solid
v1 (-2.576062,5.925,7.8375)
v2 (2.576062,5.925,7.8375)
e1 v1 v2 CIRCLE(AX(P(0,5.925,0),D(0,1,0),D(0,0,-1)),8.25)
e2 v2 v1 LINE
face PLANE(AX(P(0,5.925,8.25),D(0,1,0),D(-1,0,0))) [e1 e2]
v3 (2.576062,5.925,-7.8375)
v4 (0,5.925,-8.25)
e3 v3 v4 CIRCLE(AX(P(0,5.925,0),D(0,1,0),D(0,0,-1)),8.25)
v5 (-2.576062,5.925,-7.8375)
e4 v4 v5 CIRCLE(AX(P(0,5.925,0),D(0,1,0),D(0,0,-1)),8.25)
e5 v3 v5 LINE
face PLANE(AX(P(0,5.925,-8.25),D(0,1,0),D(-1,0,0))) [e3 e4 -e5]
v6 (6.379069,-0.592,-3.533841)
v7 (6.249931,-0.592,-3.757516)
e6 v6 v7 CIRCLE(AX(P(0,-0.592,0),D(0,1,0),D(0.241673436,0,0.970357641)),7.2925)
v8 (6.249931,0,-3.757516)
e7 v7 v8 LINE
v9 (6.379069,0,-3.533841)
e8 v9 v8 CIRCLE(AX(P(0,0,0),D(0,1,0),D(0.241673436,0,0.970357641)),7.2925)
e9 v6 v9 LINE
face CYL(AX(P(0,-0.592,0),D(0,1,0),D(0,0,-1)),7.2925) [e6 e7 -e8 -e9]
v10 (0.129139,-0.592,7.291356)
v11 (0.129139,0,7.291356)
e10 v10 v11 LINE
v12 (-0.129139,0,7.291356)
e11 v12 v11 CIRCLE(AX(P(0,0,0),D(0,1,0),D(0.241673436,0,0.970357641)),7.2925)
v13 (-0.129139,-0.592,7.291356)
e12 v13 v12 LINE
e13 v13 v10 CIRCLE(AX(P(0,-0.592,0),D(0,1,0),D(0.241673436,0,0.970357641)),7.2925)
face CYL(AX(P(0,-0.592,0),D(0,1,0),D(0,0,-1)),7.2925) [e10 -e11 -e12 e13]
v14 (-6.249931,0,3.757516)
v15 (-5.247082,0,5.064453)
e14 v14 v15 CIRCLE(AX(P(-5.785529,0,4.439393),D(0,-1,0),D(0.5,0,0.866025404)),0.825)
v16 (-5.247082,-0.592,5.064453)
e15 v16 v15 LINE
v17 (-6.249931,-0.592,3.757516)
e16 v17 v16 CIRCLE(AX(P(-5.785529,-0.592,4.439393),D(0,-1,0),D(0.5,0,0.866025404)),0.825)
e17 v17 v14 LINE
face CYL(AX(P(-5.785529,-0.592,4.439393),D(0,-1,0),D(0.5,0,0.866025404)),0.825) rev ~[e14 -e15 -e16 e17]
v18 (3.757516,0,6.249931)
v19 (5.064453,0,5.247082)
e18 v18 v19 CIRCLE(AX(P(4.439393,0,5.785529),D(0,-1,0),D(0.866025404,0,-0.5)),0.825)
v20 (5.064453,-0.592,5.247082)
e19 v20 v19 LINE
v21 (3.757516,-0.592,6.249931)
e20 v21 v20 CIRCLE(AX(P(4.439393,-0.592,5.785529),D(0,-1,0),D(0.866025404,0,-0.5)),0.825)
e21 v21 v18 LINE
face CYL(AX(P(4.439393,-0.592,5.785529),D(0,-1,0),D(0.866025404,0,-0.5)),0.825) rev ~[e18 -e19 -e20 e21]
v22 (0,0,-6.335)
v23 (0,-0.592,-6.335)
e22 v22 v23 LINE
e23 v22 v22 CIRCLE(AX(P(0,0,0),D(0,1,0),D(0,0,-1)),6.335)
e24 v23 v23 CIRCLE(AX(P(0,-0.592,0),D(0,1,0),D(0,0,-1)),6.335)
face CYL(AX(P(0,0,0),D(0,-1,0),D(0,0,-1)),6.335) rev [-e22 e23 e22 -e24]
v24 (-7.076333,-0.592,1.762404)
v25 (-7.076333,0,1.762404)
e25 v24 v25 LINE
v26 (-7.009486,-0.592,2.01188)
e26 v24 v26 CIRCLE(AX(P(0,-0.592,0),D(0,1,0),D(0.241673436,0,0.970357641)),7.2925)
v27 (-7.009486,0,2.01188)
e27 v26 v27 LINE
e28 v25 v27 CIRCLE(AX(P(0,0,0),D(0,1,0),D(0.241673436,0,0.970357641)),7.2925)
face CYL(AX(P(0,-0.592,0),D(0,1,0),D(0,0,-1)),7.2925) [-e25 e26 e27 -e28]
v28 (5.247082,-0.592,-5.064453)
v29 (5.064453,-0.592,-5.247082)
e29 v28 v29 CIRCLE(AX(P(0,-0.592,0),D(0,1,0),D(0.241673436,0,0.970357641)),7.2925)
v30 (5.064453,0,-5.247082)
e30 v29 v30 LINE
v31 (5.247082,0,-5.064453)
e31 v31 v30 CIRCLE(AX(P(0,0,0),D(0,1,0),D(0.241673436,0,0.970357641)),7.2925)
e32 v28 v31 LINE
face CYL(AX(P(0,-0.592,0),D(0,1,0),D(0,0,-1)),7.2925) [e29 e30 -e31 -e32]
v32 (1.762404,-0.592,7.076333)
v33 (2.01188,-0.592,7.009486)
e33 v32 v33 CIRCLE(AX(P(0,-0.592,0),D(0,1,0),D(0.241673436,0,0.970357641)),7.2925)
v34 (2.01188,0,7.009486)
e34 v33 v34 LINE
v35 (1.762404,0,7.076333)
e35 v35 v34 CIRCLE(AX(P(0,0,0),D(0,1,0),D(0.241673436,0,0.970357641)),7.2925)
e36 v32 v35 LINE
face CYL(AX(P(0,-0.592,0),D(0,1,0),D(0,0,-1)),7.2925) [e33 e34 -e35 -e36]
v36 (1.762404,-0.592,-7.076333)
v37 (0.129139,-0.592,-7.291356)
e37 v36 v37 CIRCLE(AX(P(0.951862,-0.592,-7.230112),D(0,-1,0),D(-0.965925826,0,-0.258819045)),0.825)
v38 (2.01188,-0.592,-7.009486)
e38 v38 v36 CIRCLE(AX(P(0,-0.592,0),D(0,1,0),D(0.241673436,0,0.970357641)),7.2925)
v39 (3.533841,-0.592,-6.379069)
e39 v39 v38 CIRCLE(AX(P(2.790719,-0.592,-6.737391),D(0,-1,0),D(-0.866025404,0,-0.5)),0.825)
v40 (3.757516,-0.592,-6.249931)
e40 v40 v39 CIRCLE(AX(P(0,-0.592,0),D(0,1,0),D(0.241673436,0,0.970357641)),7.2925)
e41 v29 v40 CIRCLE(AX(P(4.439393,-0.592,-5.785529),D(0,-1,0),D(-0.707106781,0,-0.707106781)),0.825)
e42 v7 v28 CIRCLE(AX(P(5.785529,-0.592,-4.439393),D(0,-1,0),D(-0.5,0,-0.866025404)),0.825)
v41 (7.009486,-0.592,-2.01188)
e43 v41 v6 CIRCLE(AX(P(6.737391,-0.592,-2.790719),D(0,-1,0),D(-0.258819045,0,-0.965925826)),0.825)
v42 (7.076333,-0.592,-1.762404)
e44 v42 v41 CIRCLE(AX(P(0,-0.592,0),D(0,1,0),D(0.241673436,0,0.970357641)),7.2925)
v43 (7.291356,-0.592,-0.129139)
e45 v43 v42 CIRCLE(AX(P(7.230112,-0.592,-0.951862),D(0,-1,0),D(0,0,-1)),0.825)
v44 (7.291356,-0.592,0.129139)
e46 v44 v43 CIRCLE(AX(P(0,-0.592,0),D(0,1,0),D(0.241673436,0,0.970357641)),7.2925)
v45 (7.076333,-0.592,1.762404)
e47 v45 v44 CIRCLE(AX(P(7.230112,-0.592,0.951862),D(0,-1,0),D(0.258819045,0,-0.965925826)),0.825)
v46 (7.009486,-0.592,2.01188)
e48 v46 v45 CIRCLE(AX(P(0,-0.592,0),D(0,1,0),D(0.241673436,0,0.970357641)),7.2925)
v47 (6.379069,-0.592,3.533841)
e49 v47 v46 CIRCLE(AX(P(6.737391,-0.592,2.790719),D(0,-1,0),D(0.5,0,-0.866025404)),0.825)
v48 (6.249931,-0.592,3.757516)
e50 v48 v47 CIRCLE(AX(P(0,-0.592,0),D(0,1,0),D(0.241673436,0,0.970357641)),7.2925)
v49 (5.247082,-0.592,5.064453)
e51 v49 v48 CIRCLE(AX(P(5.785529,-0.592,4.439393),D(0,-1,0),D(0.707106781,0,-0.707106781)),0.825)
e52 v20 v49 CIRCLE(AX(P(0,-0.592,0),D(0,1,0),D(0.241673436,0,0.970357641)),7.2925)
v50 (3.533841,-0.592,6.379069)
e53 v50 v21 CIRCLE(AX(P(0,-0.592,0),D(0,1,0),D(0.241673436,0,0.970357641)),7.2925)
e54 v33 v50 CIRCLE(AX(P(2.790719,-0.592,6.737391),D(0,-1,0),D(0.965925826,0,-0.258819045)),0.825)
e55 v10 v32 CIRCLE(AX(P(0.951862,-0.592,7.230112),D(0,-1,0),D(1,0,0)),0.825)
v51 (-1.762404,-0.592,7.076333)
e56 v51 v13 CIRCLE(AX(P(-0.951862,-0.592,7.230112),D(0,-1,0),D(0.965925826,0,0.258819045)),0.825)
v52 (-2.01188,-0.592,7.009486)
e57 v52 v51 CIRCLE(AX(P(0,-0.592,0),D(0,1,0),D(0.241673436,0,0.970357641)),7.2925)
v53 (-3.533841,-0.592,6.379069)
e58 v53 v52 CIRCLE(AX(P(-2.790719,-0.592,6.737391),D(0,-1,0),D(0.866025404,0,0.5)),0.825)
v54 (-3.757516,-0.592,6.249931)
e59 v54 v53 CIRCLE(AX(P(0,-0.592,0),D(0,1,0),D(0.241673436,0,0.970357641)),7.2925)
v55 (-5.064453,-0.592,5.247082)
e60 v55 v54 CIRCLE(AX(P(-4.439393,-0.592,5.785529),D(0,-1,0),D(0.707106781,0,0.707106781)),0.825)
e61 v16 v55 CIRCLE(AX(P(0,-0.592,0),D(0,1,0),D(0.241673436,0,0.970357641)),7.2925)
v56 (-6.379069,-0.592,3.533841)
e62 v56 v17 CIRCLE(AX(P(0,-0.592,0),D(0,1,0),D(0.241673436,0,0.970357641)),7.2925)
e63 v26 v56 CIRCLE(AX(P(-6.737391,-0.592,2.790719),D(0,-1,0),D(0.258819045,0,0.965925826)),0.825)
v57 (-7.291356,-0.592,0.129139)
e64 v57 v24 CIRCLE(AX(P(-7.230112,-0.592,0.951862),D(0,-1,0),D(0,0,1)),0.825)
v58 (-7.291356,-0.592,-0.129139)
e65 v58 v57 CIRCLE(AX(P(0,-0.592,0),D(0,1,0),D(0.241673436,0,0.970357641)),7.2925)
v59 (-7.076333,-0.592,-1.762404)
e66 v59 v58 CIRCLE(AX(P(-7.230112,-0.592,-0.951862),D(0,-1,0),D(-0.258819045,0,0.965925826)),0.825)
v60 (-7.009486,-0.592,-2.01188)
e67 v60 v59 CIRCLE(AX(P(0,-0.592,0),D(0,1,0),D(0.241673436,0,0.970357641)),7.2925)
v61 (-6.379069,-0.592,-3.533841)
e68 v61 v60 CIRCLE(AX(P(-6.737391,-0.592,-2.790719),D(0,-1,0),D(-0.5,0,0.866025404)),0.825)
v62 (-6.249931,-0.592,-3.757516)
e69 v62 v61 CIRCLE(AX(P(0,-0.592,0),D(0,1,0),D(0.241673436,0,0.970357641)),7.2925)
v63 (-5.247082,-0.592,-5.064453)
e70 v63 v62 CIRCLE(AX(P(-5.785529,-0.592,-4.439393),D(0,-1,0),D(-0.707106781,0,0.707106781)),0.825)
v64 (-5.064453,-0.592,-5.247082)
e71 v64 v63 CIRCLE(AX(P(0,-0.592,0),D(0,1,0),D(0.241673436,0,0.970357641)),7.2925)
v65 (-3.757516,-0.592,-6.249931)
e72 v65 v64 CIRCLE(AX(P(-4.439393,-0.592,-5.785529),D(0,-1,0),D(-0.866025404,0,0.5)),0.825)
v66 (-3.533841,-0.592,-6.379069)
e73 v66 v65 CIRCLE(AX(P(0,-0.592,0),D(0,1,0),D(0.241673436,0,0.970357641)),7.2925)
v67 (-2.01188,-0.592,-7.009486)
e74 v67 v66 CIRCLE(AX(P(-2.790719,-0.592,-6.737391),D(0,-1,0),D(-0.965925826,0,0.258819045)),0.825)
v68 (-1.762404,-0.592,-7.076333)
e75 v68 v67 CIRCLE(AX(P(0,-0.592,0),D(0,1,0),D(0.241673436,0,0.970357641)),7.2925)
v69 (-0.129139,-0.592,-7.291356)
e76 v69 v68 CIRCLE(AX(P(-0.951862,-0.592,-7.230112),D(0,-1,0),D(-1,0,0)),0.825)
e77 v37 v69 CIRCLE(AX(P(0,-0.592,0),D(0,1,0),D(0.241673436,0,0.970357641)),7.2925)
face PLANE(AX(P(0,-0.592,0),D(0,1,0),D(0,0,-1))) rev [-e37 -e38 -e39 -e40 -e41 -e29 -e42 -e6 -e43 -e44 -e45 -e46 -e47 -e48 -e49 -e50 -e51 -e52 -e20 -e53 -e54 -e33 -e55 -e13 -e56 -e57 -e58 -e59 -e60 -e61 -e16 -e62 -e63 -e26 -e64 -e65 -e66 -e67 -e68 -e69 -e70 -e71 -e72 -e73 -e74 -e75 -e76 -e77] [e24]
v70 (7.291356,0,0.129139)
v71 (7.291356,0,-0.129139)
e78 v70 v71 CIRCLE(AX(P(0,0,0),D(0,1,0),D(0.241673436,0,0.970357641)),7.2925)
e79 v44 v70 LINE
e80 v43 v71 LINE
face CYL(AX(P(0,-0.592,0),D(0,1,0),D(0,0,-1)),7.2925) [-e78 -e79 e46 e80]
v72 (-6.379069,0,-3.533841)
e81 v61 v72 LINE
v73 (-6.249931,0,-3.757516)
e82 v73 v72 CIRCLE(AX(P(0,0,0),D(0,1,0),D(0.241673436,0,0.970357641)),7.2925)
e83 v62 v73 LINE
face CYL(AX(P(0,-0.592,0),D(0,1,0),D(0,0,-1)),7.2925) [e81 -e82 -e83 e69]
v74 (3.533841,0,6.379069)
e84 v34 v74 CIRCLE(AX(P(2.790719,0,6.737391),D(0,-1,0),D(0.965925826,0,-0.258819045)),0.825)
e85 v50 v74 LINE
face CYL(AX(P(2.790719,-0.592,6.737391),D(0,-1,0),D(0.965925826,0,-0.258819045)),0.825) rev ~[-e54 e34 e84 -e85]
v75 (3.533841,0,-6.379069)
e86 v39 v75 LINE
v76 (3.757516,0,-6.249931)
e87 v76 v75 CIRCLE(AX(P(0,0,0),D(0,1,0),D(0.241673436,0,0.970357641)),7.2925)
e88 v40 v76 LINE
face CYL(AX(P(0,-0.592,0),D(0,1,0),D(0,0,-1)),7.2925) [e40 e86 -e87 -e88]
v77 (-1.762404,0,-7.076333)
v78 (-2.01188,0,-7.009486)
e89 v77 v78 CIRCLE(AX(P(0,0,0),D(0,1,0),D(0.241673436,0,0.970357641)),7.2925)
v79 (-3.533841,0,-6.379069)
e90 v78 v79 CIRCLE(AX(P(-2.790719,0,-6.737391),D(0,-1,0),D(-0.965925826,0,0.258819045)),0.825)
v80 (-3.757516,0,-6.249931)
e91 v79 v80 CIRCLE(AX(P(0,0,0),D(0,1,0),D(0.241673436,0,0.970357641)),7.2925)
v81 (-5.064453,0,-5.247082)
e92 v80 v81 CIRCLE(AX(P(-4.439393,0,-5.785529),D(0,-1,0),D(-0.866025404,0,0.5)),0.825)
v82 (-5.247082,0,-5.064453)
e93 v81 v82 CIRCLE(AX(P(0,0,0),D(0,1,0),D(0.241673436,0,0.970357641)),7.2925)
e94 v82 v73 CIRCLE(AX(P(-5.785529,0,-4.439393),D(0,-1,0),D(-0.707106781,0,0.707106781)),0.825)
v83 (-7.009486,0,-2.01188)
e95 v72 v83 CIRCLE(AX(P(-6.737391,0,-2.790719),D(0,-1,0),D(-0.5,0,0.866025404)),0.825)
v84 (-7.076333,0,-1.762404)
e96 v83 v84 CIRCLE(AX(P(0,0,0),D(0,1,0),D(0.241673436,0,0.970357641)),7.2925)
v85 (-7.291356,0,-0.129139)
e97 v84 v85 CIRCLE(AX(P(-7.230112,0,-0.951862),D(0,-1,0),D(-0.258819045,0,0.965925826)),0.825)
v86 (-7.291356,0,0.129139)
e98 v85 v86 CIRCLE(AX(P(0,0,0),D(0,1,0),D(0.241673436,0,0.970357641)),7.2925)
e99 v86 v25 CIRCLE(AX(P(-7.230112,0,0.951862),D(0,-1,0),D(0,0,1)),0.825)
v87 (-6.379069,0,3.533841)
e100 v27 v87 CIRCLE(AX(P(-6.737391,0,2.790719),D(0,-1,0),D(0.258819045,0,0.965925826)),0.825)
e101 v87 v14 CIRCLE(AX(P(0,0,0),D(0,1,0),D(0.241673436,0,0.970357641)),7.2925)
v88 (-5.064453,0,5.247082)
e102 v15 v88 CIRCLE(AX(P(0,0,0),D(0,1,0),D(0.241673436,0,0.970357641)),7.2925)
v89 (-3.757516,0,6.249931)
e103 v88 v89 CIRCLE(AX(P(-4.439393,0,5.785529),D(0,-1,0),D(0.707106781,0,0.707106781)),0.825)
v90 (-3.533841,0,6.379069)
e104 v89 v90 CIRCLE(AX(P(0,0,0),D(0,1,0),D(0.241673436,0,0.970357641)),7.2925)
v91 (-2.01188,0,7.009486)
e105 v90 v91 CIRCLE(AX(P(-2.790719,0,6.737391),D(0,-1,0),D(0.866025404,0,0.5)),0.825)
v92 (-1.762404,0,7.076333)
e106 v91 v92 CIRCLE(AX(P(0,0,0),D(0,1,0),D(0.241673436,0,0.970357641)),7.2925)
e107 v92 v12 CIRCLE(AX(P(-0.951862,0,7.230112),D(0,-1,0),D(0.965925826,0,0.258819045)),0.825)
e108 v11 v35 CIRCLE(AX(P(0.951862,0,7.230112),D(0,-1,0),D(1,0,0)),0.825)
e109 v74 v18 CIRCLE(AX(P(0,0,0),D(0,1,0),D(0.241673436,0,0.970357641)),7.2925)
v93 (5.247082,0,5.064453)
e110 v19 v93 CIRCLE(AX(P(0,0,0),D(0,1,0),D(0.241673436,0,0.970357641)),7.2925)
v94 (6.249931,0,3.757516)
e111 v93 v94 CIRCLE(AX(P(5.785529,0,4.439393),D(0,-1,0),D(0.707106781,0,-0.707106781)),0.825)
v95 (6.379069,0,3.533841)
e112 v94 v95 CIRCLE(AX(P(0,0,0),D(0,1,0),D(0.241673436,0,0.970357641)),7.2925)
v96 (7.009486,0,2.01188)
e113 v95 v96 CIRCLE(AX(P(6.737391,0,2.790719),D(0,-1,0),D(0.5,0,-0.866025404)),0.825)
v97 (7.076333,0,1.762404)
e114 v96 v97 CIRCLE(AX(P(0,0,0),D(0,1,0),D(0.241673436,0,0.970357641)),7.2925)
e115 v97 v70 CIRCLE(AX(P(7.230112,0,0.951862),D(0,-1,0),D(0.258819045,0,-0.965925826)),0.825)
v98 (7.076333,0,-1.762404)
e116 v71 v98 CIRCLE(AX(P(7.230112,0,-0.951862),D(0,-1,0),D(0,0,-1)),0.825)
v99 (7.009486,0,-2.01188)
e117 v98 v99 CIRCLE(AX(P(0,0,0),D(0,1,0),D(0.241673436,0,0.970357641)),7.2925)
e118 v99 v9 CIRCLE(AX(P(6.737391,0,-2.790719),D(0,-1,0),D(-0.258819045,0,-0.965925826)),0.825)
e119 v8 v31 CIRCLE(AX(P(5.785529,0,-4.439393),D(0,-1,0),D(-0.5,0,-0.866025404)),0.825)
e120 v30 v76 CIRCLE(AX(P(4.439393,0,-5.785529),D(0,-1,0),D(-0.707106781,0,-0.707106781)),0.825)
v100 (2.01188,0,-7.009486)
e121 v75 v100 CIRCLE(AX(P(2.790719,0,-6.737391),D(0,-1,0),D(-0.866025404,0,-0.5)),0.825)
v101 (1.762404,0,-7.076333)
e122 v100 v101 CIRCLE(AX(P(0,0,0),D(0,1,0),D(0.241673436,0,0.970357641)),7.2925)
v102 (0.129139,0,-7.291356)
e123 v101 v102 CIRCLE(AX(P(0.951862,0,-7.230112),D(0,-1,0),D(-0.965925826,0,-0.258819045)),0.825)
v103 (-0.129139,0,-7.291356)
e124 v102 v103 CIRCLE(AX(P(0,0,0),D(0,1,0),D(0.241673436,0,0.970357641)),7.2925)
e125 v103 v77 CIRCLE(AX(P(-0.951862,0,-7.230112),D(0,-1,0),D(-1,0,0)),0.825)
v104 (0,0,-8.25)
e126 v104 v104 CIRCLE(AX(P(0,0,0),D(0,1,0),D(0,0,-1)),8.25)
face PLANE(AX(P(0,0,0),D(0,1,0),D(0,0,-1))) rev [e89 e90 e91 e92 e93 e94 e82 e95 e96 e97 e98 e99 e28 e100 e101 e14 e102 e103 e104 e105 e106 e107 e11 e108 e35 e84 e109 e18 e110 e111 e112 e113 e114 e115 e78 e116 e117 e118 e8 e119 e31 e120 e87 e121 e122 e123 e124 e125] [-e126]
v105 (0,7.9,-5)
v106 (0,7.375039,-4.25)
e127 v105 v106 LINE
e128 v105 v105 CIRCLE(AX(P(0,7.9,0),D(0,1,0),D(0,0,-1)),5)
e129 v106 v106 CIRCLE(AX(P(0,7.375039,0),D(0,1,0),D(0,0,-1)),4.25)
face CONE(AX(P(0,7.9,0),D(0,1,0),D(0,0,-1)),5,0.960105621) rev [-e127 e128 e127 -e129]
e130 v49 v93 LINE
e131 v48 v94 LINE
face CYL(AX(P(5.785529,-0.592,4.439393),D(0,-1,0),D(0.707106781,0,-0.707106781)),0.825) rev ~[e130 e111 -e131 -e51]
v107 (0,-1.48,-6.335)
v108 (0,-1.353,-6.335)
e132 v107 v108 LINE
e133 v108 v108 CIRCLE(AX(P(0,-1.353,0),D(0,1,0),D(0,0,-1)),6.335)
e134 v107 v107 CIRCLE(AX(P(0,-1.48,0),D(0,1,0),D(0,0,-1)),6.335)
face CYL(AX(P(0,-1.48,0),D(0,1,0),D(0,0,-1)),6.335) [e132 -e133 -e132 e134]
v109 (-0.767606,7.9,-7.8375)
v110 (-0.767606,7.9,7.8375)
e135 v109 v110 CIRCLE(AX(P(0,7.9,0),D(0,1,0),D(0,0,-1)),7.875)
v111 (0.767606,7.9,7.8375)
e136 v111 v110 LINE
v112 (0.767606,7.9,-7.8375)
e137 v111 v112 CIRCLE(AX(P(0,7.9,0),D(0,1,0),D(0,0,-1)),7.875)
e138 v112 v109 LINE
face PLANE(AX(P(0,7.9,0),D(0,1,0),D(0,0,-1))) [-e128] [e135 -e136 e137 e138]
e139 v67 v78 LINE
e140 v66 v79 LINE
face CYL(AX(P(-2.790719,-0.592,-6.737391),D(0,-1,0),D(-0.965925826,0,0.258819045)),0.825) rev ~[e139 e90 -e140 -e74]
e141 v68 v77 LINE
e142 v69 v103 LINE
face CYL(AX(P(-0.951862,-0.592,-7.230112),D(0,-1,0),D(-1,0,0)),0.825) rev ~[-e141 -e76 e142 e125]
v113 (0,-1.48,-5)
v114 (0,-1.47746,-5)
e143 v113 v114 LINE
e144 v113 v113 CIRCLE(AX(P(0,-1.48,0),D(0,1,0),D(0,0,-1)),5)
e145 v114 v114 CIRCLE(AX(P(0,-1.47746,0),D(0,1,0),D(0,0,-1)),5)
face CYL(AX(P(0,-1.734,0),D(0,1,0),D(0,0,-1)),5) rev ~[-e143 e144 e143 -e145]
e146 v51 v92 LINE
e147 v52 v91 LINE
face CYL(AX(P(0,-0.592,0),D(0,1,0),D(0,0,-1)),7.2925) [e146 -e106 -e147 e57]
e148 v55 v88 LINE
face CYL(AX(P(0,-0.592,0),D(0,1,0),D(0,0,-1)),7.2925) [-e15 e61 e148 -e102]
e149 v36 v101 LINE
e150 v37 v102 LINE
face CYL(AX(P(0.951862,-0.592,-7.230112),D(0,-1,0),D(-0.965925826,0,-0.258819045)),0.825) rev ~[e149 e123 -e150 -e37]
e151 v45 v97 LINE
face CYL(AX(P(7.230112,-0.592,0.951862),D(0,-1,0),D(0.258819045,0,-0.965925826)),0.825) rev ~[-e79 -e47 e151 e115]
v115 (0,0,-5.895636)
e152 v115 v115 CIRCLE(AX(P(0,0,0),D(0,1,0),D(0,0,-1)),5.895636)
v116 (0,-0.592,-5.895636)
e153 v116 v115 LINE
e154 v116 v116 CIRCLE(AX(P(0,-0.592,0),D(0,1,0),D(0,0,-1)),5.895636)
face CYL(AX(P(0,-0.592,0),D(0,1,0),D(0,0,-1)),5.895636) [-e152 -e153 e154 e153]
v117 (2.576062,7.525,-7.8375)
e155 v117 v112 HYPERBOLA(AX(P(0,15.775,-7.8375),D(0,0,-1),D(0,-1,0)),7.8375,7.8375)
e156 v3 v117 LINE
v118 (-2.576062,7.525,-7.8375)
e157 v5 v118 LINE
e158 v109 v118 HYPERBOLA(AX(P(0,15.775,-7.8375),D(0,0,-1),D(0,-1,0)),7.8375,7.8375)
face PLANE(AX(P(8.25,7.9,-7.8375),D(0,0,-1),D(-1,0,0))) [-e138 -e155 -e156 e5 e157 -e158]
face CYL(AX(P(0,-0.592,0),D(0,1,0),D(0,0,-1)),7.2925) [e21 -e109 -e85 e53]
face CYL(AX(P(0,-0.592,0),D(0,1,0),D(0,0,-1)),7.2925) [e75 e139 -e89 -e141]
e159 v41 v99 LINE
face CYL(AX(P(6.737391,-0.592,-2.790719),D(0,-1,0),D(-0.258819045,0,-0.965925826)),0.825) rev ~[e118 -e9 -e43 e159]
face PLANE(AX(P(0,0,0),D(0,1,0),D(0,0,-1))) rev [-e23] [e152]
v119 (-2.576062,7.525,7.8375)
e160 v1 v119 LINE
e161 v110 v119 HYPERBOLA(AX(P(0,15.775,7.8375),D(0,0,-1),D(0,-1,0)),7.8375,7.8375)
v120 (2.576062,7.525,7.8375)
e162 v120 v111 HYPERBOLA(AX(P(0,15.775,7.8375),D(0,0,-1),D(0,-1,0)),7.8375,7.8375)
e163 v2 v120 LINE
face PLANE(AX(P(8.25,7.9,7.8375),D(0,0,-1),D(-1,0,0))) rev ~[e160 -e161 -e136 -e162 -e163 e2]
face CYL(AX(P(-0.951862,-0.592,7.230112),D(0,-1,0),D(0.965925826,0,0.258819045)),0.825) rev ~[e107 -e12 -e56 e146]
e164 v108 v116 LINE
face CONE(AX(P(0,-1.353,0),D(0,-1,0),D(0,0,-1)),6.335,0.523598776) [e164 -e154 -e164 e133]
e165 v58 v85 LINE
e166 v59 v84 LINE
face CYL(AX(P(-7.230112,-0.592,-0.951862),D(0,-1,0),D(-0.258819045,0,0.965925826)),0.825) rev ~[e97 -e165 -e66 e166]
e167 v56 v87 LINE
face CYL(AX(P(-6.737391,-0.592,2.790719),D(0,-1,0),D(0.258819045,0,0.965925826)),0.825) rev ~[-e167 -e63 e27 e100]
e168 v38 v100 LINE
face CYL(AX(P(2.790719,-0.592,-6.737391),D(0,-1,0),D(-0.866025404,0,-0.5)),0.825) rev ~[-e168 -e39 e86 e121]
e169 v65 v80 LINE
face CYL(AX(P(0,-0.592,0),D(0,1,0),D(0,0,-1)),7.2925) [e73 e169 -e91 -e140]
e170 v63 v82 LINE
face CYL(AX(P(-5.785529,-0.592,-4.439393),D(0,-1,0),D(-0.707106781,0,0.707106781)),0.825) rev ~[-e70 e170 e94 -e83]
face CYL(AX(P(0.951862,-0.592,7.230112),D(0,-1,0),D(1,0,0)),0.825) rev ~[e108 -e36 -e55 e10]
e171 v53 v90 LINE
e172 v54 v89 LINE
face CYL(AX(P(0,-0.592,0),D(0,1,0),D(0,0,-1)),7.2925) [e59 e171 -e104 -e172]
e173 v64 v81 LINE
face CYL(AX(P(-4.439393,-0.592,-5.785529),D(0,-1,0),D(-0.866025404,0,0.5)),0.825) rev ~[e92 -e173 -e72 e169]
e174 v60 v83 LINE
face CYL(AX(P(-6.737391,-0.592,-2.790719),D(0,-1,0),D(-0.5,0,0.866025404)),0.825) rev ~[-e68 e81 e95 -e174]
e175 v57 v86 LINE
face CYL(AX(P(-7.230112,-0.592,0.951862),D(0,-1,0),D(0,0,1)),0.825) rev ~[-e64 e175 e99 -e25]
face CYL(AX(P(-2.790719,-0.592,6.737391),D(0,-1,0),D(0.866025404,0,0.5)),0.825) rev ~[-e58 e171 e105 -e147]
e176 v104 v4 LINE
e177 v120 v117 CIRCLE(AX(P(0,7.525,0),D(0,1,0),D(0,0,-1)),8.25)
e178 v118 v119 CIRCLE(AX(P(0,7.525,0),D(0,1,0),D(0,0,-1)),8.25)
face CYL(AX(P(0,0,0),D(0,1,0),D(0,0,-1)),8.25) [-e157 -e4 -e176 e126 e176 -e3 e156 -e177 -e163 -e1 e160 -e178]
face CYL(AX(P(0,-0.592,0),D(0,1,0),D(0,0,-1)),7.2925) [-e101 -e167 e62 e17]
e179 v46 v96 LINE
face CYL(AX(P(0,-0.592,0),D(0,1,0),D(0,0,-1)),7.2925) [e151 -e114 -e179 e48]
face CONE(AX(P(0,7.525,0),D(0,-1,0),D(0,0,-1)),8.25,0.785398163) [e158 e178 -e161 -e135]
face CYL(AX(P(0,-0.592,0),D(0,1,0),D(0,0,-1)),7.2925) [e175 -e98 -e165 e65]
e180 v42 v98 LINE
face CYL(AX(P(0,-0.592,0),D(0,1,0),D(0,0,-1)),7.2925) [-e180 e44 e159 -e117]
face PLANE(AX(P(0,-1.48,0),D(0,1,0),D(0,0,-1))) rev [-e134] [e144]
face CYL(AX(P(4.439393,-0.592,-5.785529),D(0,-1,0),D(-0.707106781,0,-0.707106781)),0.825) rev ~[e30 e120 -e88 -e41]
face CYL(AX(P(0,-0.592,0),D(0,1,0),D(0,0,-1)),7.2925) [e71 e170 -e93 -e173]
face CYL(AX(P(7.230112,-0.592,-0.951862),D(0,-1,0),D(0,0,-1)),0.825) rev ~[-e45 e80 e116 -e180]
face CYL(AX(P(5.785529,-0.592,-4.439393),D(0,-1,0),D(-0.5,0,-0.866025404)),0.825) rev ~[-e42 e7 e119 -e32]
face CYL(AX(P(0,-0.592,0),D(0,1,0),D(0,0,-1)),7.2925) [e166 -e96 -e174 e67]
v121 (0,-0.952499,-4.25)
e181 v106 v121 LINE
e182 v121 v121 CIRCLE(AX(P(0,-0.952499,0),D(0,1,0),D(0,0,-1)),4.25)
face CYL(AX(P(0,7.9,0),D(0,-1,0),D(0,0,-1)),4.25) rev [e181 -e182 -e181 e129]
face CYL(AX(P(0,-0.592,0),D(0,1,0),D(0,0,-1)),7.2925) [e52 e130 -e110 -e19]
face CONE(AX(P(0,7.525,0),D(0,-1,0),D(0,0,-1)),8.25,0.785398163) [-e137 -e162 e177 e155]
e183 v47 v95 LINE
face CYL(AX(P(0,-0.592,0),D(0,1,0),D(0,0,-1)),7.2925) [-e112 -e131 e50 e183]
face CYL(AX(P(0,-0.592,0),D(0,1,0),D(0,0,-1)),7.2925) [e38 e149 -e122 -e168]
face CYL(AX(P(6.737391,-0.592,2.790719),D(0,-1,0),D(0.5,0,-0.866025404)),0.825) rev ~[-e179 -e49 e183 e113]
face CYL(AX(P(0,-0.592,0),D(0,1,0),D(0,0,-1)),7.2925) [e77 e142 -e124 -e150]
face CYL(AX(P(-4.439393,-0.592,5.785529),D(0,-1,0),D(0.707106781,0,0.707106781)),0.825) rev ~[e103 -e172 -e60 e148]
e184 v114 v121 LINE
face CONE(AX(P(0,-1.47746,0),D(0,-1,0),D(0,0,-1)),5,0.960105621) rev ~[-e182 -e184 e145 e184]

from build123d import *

# Parameters (mm, degrees)
CHAMFER_2_SIZE        = 0.375
FLATSSKE_W            = 16.5
FLATSSKE_H            = 0.825
FLATS_DEPTH           = 1.975
CLICUTSKE_R           = 0.825
CLINCHINGCUT_DEPTH    = 0.592
CLINCHINGCUTPAT_COUNT = 24
CLINCHINGCUTPAT_ANGLE = 345


with BuildPart() as part:
    # BodySke → Body (revolve)
    with BuildSketch(Plane.XY, mode=Mode.PRIVATE) as body_sk:
        Polygon((5.895636445, 0), (6.335, 0), (6.335, -0.592), (7.2925, -0.592), (7.2925, 0), (8.25, 0), (8.25, 7.9), (4.25, 7.9), (4.25, -1.48), (6.335, -1.48), (6.335, -1.353), (5.895636445, -0.592), align=None)
    revolve(body_sk.sketch.rotate(Axis((0, 0, 0), (0, 1, 0)), 90), axis=Axis((0, 0, 0), (0, 1, 0)))

    # Chamfer 2
    chamfer_2_edges = [part.edges().sort_by_distance(p)[0] for p in [
        (0, 7.9, 8.25),
    ]]
    chamfer(chamfer_2_edges, length=CHAMFER_2_SIZE)

    # FlatsSke → Flats (cut)
    with BuildSketch(Plane(origin=(0, 7.9, 0), x_dir=(-1, 0, 0), z_dir=(0, 1, 0))):
        with Locations((0, 8.25)):
            Rectangle(FLATSSKE_W, FLATSSKE_H)
        with Locations((0, -8.25)):
            Rectangle(FLATSSKE_W, FLATSSKE_H)
    extrude(amount=-FLATS_DEPTH, mode=Mode.SUBTRACT)

    # EndChamferSke → EndChamfer (revolve, cut)
    with BuildSketch(Plane.XY, mode=Mode.PRIVATE) as endchamfer_sk:
        Polygon((5, -1.734), (5, -1.47746), (4.25, -0.952499401), (4.25, -1.734), align=None)
        Polygon((5, 7.9), (4.25, 7.375039401), (4.25, 7.9), align=None)
    revolve(endchamfer_sk.sketch.rotate(Axis((0, -2.54, 0), (0, 1, 0)), 90), axis=Axis((0, -2.54, 0), (0, 1, 0)), mode=Mode.SUBTRACT)

    # CliCutSke → ClinchingCut (cut)
    with BuildSketch(Plane.XZ.offset(0.592)):
        with Locations((0.951862257, 7.230111652)):
            Circle(CLICUTSKE_R)
    clinchingcut = extrude(amount=-CLINCHINGCUT_DEPTH, mode=Mode.SUBTRACT)

    # ClinchingCutPat: ClinchingCut ×24 about axis
    clinchingcutpat_axis = Axis((0, 0, 0), (0, 1, 0))
    for i in range(1, CLINCHINGCUTPAT_COUNT):
        add(clinchingcut.rotate(clinchingcutpat_axis, i * CLINCHINGCUTPAT_ANGLE / (CLINCHINGCUTPAT_COUNT - 1)), mode=Mode.SUBTRACT)


solid = part.part
